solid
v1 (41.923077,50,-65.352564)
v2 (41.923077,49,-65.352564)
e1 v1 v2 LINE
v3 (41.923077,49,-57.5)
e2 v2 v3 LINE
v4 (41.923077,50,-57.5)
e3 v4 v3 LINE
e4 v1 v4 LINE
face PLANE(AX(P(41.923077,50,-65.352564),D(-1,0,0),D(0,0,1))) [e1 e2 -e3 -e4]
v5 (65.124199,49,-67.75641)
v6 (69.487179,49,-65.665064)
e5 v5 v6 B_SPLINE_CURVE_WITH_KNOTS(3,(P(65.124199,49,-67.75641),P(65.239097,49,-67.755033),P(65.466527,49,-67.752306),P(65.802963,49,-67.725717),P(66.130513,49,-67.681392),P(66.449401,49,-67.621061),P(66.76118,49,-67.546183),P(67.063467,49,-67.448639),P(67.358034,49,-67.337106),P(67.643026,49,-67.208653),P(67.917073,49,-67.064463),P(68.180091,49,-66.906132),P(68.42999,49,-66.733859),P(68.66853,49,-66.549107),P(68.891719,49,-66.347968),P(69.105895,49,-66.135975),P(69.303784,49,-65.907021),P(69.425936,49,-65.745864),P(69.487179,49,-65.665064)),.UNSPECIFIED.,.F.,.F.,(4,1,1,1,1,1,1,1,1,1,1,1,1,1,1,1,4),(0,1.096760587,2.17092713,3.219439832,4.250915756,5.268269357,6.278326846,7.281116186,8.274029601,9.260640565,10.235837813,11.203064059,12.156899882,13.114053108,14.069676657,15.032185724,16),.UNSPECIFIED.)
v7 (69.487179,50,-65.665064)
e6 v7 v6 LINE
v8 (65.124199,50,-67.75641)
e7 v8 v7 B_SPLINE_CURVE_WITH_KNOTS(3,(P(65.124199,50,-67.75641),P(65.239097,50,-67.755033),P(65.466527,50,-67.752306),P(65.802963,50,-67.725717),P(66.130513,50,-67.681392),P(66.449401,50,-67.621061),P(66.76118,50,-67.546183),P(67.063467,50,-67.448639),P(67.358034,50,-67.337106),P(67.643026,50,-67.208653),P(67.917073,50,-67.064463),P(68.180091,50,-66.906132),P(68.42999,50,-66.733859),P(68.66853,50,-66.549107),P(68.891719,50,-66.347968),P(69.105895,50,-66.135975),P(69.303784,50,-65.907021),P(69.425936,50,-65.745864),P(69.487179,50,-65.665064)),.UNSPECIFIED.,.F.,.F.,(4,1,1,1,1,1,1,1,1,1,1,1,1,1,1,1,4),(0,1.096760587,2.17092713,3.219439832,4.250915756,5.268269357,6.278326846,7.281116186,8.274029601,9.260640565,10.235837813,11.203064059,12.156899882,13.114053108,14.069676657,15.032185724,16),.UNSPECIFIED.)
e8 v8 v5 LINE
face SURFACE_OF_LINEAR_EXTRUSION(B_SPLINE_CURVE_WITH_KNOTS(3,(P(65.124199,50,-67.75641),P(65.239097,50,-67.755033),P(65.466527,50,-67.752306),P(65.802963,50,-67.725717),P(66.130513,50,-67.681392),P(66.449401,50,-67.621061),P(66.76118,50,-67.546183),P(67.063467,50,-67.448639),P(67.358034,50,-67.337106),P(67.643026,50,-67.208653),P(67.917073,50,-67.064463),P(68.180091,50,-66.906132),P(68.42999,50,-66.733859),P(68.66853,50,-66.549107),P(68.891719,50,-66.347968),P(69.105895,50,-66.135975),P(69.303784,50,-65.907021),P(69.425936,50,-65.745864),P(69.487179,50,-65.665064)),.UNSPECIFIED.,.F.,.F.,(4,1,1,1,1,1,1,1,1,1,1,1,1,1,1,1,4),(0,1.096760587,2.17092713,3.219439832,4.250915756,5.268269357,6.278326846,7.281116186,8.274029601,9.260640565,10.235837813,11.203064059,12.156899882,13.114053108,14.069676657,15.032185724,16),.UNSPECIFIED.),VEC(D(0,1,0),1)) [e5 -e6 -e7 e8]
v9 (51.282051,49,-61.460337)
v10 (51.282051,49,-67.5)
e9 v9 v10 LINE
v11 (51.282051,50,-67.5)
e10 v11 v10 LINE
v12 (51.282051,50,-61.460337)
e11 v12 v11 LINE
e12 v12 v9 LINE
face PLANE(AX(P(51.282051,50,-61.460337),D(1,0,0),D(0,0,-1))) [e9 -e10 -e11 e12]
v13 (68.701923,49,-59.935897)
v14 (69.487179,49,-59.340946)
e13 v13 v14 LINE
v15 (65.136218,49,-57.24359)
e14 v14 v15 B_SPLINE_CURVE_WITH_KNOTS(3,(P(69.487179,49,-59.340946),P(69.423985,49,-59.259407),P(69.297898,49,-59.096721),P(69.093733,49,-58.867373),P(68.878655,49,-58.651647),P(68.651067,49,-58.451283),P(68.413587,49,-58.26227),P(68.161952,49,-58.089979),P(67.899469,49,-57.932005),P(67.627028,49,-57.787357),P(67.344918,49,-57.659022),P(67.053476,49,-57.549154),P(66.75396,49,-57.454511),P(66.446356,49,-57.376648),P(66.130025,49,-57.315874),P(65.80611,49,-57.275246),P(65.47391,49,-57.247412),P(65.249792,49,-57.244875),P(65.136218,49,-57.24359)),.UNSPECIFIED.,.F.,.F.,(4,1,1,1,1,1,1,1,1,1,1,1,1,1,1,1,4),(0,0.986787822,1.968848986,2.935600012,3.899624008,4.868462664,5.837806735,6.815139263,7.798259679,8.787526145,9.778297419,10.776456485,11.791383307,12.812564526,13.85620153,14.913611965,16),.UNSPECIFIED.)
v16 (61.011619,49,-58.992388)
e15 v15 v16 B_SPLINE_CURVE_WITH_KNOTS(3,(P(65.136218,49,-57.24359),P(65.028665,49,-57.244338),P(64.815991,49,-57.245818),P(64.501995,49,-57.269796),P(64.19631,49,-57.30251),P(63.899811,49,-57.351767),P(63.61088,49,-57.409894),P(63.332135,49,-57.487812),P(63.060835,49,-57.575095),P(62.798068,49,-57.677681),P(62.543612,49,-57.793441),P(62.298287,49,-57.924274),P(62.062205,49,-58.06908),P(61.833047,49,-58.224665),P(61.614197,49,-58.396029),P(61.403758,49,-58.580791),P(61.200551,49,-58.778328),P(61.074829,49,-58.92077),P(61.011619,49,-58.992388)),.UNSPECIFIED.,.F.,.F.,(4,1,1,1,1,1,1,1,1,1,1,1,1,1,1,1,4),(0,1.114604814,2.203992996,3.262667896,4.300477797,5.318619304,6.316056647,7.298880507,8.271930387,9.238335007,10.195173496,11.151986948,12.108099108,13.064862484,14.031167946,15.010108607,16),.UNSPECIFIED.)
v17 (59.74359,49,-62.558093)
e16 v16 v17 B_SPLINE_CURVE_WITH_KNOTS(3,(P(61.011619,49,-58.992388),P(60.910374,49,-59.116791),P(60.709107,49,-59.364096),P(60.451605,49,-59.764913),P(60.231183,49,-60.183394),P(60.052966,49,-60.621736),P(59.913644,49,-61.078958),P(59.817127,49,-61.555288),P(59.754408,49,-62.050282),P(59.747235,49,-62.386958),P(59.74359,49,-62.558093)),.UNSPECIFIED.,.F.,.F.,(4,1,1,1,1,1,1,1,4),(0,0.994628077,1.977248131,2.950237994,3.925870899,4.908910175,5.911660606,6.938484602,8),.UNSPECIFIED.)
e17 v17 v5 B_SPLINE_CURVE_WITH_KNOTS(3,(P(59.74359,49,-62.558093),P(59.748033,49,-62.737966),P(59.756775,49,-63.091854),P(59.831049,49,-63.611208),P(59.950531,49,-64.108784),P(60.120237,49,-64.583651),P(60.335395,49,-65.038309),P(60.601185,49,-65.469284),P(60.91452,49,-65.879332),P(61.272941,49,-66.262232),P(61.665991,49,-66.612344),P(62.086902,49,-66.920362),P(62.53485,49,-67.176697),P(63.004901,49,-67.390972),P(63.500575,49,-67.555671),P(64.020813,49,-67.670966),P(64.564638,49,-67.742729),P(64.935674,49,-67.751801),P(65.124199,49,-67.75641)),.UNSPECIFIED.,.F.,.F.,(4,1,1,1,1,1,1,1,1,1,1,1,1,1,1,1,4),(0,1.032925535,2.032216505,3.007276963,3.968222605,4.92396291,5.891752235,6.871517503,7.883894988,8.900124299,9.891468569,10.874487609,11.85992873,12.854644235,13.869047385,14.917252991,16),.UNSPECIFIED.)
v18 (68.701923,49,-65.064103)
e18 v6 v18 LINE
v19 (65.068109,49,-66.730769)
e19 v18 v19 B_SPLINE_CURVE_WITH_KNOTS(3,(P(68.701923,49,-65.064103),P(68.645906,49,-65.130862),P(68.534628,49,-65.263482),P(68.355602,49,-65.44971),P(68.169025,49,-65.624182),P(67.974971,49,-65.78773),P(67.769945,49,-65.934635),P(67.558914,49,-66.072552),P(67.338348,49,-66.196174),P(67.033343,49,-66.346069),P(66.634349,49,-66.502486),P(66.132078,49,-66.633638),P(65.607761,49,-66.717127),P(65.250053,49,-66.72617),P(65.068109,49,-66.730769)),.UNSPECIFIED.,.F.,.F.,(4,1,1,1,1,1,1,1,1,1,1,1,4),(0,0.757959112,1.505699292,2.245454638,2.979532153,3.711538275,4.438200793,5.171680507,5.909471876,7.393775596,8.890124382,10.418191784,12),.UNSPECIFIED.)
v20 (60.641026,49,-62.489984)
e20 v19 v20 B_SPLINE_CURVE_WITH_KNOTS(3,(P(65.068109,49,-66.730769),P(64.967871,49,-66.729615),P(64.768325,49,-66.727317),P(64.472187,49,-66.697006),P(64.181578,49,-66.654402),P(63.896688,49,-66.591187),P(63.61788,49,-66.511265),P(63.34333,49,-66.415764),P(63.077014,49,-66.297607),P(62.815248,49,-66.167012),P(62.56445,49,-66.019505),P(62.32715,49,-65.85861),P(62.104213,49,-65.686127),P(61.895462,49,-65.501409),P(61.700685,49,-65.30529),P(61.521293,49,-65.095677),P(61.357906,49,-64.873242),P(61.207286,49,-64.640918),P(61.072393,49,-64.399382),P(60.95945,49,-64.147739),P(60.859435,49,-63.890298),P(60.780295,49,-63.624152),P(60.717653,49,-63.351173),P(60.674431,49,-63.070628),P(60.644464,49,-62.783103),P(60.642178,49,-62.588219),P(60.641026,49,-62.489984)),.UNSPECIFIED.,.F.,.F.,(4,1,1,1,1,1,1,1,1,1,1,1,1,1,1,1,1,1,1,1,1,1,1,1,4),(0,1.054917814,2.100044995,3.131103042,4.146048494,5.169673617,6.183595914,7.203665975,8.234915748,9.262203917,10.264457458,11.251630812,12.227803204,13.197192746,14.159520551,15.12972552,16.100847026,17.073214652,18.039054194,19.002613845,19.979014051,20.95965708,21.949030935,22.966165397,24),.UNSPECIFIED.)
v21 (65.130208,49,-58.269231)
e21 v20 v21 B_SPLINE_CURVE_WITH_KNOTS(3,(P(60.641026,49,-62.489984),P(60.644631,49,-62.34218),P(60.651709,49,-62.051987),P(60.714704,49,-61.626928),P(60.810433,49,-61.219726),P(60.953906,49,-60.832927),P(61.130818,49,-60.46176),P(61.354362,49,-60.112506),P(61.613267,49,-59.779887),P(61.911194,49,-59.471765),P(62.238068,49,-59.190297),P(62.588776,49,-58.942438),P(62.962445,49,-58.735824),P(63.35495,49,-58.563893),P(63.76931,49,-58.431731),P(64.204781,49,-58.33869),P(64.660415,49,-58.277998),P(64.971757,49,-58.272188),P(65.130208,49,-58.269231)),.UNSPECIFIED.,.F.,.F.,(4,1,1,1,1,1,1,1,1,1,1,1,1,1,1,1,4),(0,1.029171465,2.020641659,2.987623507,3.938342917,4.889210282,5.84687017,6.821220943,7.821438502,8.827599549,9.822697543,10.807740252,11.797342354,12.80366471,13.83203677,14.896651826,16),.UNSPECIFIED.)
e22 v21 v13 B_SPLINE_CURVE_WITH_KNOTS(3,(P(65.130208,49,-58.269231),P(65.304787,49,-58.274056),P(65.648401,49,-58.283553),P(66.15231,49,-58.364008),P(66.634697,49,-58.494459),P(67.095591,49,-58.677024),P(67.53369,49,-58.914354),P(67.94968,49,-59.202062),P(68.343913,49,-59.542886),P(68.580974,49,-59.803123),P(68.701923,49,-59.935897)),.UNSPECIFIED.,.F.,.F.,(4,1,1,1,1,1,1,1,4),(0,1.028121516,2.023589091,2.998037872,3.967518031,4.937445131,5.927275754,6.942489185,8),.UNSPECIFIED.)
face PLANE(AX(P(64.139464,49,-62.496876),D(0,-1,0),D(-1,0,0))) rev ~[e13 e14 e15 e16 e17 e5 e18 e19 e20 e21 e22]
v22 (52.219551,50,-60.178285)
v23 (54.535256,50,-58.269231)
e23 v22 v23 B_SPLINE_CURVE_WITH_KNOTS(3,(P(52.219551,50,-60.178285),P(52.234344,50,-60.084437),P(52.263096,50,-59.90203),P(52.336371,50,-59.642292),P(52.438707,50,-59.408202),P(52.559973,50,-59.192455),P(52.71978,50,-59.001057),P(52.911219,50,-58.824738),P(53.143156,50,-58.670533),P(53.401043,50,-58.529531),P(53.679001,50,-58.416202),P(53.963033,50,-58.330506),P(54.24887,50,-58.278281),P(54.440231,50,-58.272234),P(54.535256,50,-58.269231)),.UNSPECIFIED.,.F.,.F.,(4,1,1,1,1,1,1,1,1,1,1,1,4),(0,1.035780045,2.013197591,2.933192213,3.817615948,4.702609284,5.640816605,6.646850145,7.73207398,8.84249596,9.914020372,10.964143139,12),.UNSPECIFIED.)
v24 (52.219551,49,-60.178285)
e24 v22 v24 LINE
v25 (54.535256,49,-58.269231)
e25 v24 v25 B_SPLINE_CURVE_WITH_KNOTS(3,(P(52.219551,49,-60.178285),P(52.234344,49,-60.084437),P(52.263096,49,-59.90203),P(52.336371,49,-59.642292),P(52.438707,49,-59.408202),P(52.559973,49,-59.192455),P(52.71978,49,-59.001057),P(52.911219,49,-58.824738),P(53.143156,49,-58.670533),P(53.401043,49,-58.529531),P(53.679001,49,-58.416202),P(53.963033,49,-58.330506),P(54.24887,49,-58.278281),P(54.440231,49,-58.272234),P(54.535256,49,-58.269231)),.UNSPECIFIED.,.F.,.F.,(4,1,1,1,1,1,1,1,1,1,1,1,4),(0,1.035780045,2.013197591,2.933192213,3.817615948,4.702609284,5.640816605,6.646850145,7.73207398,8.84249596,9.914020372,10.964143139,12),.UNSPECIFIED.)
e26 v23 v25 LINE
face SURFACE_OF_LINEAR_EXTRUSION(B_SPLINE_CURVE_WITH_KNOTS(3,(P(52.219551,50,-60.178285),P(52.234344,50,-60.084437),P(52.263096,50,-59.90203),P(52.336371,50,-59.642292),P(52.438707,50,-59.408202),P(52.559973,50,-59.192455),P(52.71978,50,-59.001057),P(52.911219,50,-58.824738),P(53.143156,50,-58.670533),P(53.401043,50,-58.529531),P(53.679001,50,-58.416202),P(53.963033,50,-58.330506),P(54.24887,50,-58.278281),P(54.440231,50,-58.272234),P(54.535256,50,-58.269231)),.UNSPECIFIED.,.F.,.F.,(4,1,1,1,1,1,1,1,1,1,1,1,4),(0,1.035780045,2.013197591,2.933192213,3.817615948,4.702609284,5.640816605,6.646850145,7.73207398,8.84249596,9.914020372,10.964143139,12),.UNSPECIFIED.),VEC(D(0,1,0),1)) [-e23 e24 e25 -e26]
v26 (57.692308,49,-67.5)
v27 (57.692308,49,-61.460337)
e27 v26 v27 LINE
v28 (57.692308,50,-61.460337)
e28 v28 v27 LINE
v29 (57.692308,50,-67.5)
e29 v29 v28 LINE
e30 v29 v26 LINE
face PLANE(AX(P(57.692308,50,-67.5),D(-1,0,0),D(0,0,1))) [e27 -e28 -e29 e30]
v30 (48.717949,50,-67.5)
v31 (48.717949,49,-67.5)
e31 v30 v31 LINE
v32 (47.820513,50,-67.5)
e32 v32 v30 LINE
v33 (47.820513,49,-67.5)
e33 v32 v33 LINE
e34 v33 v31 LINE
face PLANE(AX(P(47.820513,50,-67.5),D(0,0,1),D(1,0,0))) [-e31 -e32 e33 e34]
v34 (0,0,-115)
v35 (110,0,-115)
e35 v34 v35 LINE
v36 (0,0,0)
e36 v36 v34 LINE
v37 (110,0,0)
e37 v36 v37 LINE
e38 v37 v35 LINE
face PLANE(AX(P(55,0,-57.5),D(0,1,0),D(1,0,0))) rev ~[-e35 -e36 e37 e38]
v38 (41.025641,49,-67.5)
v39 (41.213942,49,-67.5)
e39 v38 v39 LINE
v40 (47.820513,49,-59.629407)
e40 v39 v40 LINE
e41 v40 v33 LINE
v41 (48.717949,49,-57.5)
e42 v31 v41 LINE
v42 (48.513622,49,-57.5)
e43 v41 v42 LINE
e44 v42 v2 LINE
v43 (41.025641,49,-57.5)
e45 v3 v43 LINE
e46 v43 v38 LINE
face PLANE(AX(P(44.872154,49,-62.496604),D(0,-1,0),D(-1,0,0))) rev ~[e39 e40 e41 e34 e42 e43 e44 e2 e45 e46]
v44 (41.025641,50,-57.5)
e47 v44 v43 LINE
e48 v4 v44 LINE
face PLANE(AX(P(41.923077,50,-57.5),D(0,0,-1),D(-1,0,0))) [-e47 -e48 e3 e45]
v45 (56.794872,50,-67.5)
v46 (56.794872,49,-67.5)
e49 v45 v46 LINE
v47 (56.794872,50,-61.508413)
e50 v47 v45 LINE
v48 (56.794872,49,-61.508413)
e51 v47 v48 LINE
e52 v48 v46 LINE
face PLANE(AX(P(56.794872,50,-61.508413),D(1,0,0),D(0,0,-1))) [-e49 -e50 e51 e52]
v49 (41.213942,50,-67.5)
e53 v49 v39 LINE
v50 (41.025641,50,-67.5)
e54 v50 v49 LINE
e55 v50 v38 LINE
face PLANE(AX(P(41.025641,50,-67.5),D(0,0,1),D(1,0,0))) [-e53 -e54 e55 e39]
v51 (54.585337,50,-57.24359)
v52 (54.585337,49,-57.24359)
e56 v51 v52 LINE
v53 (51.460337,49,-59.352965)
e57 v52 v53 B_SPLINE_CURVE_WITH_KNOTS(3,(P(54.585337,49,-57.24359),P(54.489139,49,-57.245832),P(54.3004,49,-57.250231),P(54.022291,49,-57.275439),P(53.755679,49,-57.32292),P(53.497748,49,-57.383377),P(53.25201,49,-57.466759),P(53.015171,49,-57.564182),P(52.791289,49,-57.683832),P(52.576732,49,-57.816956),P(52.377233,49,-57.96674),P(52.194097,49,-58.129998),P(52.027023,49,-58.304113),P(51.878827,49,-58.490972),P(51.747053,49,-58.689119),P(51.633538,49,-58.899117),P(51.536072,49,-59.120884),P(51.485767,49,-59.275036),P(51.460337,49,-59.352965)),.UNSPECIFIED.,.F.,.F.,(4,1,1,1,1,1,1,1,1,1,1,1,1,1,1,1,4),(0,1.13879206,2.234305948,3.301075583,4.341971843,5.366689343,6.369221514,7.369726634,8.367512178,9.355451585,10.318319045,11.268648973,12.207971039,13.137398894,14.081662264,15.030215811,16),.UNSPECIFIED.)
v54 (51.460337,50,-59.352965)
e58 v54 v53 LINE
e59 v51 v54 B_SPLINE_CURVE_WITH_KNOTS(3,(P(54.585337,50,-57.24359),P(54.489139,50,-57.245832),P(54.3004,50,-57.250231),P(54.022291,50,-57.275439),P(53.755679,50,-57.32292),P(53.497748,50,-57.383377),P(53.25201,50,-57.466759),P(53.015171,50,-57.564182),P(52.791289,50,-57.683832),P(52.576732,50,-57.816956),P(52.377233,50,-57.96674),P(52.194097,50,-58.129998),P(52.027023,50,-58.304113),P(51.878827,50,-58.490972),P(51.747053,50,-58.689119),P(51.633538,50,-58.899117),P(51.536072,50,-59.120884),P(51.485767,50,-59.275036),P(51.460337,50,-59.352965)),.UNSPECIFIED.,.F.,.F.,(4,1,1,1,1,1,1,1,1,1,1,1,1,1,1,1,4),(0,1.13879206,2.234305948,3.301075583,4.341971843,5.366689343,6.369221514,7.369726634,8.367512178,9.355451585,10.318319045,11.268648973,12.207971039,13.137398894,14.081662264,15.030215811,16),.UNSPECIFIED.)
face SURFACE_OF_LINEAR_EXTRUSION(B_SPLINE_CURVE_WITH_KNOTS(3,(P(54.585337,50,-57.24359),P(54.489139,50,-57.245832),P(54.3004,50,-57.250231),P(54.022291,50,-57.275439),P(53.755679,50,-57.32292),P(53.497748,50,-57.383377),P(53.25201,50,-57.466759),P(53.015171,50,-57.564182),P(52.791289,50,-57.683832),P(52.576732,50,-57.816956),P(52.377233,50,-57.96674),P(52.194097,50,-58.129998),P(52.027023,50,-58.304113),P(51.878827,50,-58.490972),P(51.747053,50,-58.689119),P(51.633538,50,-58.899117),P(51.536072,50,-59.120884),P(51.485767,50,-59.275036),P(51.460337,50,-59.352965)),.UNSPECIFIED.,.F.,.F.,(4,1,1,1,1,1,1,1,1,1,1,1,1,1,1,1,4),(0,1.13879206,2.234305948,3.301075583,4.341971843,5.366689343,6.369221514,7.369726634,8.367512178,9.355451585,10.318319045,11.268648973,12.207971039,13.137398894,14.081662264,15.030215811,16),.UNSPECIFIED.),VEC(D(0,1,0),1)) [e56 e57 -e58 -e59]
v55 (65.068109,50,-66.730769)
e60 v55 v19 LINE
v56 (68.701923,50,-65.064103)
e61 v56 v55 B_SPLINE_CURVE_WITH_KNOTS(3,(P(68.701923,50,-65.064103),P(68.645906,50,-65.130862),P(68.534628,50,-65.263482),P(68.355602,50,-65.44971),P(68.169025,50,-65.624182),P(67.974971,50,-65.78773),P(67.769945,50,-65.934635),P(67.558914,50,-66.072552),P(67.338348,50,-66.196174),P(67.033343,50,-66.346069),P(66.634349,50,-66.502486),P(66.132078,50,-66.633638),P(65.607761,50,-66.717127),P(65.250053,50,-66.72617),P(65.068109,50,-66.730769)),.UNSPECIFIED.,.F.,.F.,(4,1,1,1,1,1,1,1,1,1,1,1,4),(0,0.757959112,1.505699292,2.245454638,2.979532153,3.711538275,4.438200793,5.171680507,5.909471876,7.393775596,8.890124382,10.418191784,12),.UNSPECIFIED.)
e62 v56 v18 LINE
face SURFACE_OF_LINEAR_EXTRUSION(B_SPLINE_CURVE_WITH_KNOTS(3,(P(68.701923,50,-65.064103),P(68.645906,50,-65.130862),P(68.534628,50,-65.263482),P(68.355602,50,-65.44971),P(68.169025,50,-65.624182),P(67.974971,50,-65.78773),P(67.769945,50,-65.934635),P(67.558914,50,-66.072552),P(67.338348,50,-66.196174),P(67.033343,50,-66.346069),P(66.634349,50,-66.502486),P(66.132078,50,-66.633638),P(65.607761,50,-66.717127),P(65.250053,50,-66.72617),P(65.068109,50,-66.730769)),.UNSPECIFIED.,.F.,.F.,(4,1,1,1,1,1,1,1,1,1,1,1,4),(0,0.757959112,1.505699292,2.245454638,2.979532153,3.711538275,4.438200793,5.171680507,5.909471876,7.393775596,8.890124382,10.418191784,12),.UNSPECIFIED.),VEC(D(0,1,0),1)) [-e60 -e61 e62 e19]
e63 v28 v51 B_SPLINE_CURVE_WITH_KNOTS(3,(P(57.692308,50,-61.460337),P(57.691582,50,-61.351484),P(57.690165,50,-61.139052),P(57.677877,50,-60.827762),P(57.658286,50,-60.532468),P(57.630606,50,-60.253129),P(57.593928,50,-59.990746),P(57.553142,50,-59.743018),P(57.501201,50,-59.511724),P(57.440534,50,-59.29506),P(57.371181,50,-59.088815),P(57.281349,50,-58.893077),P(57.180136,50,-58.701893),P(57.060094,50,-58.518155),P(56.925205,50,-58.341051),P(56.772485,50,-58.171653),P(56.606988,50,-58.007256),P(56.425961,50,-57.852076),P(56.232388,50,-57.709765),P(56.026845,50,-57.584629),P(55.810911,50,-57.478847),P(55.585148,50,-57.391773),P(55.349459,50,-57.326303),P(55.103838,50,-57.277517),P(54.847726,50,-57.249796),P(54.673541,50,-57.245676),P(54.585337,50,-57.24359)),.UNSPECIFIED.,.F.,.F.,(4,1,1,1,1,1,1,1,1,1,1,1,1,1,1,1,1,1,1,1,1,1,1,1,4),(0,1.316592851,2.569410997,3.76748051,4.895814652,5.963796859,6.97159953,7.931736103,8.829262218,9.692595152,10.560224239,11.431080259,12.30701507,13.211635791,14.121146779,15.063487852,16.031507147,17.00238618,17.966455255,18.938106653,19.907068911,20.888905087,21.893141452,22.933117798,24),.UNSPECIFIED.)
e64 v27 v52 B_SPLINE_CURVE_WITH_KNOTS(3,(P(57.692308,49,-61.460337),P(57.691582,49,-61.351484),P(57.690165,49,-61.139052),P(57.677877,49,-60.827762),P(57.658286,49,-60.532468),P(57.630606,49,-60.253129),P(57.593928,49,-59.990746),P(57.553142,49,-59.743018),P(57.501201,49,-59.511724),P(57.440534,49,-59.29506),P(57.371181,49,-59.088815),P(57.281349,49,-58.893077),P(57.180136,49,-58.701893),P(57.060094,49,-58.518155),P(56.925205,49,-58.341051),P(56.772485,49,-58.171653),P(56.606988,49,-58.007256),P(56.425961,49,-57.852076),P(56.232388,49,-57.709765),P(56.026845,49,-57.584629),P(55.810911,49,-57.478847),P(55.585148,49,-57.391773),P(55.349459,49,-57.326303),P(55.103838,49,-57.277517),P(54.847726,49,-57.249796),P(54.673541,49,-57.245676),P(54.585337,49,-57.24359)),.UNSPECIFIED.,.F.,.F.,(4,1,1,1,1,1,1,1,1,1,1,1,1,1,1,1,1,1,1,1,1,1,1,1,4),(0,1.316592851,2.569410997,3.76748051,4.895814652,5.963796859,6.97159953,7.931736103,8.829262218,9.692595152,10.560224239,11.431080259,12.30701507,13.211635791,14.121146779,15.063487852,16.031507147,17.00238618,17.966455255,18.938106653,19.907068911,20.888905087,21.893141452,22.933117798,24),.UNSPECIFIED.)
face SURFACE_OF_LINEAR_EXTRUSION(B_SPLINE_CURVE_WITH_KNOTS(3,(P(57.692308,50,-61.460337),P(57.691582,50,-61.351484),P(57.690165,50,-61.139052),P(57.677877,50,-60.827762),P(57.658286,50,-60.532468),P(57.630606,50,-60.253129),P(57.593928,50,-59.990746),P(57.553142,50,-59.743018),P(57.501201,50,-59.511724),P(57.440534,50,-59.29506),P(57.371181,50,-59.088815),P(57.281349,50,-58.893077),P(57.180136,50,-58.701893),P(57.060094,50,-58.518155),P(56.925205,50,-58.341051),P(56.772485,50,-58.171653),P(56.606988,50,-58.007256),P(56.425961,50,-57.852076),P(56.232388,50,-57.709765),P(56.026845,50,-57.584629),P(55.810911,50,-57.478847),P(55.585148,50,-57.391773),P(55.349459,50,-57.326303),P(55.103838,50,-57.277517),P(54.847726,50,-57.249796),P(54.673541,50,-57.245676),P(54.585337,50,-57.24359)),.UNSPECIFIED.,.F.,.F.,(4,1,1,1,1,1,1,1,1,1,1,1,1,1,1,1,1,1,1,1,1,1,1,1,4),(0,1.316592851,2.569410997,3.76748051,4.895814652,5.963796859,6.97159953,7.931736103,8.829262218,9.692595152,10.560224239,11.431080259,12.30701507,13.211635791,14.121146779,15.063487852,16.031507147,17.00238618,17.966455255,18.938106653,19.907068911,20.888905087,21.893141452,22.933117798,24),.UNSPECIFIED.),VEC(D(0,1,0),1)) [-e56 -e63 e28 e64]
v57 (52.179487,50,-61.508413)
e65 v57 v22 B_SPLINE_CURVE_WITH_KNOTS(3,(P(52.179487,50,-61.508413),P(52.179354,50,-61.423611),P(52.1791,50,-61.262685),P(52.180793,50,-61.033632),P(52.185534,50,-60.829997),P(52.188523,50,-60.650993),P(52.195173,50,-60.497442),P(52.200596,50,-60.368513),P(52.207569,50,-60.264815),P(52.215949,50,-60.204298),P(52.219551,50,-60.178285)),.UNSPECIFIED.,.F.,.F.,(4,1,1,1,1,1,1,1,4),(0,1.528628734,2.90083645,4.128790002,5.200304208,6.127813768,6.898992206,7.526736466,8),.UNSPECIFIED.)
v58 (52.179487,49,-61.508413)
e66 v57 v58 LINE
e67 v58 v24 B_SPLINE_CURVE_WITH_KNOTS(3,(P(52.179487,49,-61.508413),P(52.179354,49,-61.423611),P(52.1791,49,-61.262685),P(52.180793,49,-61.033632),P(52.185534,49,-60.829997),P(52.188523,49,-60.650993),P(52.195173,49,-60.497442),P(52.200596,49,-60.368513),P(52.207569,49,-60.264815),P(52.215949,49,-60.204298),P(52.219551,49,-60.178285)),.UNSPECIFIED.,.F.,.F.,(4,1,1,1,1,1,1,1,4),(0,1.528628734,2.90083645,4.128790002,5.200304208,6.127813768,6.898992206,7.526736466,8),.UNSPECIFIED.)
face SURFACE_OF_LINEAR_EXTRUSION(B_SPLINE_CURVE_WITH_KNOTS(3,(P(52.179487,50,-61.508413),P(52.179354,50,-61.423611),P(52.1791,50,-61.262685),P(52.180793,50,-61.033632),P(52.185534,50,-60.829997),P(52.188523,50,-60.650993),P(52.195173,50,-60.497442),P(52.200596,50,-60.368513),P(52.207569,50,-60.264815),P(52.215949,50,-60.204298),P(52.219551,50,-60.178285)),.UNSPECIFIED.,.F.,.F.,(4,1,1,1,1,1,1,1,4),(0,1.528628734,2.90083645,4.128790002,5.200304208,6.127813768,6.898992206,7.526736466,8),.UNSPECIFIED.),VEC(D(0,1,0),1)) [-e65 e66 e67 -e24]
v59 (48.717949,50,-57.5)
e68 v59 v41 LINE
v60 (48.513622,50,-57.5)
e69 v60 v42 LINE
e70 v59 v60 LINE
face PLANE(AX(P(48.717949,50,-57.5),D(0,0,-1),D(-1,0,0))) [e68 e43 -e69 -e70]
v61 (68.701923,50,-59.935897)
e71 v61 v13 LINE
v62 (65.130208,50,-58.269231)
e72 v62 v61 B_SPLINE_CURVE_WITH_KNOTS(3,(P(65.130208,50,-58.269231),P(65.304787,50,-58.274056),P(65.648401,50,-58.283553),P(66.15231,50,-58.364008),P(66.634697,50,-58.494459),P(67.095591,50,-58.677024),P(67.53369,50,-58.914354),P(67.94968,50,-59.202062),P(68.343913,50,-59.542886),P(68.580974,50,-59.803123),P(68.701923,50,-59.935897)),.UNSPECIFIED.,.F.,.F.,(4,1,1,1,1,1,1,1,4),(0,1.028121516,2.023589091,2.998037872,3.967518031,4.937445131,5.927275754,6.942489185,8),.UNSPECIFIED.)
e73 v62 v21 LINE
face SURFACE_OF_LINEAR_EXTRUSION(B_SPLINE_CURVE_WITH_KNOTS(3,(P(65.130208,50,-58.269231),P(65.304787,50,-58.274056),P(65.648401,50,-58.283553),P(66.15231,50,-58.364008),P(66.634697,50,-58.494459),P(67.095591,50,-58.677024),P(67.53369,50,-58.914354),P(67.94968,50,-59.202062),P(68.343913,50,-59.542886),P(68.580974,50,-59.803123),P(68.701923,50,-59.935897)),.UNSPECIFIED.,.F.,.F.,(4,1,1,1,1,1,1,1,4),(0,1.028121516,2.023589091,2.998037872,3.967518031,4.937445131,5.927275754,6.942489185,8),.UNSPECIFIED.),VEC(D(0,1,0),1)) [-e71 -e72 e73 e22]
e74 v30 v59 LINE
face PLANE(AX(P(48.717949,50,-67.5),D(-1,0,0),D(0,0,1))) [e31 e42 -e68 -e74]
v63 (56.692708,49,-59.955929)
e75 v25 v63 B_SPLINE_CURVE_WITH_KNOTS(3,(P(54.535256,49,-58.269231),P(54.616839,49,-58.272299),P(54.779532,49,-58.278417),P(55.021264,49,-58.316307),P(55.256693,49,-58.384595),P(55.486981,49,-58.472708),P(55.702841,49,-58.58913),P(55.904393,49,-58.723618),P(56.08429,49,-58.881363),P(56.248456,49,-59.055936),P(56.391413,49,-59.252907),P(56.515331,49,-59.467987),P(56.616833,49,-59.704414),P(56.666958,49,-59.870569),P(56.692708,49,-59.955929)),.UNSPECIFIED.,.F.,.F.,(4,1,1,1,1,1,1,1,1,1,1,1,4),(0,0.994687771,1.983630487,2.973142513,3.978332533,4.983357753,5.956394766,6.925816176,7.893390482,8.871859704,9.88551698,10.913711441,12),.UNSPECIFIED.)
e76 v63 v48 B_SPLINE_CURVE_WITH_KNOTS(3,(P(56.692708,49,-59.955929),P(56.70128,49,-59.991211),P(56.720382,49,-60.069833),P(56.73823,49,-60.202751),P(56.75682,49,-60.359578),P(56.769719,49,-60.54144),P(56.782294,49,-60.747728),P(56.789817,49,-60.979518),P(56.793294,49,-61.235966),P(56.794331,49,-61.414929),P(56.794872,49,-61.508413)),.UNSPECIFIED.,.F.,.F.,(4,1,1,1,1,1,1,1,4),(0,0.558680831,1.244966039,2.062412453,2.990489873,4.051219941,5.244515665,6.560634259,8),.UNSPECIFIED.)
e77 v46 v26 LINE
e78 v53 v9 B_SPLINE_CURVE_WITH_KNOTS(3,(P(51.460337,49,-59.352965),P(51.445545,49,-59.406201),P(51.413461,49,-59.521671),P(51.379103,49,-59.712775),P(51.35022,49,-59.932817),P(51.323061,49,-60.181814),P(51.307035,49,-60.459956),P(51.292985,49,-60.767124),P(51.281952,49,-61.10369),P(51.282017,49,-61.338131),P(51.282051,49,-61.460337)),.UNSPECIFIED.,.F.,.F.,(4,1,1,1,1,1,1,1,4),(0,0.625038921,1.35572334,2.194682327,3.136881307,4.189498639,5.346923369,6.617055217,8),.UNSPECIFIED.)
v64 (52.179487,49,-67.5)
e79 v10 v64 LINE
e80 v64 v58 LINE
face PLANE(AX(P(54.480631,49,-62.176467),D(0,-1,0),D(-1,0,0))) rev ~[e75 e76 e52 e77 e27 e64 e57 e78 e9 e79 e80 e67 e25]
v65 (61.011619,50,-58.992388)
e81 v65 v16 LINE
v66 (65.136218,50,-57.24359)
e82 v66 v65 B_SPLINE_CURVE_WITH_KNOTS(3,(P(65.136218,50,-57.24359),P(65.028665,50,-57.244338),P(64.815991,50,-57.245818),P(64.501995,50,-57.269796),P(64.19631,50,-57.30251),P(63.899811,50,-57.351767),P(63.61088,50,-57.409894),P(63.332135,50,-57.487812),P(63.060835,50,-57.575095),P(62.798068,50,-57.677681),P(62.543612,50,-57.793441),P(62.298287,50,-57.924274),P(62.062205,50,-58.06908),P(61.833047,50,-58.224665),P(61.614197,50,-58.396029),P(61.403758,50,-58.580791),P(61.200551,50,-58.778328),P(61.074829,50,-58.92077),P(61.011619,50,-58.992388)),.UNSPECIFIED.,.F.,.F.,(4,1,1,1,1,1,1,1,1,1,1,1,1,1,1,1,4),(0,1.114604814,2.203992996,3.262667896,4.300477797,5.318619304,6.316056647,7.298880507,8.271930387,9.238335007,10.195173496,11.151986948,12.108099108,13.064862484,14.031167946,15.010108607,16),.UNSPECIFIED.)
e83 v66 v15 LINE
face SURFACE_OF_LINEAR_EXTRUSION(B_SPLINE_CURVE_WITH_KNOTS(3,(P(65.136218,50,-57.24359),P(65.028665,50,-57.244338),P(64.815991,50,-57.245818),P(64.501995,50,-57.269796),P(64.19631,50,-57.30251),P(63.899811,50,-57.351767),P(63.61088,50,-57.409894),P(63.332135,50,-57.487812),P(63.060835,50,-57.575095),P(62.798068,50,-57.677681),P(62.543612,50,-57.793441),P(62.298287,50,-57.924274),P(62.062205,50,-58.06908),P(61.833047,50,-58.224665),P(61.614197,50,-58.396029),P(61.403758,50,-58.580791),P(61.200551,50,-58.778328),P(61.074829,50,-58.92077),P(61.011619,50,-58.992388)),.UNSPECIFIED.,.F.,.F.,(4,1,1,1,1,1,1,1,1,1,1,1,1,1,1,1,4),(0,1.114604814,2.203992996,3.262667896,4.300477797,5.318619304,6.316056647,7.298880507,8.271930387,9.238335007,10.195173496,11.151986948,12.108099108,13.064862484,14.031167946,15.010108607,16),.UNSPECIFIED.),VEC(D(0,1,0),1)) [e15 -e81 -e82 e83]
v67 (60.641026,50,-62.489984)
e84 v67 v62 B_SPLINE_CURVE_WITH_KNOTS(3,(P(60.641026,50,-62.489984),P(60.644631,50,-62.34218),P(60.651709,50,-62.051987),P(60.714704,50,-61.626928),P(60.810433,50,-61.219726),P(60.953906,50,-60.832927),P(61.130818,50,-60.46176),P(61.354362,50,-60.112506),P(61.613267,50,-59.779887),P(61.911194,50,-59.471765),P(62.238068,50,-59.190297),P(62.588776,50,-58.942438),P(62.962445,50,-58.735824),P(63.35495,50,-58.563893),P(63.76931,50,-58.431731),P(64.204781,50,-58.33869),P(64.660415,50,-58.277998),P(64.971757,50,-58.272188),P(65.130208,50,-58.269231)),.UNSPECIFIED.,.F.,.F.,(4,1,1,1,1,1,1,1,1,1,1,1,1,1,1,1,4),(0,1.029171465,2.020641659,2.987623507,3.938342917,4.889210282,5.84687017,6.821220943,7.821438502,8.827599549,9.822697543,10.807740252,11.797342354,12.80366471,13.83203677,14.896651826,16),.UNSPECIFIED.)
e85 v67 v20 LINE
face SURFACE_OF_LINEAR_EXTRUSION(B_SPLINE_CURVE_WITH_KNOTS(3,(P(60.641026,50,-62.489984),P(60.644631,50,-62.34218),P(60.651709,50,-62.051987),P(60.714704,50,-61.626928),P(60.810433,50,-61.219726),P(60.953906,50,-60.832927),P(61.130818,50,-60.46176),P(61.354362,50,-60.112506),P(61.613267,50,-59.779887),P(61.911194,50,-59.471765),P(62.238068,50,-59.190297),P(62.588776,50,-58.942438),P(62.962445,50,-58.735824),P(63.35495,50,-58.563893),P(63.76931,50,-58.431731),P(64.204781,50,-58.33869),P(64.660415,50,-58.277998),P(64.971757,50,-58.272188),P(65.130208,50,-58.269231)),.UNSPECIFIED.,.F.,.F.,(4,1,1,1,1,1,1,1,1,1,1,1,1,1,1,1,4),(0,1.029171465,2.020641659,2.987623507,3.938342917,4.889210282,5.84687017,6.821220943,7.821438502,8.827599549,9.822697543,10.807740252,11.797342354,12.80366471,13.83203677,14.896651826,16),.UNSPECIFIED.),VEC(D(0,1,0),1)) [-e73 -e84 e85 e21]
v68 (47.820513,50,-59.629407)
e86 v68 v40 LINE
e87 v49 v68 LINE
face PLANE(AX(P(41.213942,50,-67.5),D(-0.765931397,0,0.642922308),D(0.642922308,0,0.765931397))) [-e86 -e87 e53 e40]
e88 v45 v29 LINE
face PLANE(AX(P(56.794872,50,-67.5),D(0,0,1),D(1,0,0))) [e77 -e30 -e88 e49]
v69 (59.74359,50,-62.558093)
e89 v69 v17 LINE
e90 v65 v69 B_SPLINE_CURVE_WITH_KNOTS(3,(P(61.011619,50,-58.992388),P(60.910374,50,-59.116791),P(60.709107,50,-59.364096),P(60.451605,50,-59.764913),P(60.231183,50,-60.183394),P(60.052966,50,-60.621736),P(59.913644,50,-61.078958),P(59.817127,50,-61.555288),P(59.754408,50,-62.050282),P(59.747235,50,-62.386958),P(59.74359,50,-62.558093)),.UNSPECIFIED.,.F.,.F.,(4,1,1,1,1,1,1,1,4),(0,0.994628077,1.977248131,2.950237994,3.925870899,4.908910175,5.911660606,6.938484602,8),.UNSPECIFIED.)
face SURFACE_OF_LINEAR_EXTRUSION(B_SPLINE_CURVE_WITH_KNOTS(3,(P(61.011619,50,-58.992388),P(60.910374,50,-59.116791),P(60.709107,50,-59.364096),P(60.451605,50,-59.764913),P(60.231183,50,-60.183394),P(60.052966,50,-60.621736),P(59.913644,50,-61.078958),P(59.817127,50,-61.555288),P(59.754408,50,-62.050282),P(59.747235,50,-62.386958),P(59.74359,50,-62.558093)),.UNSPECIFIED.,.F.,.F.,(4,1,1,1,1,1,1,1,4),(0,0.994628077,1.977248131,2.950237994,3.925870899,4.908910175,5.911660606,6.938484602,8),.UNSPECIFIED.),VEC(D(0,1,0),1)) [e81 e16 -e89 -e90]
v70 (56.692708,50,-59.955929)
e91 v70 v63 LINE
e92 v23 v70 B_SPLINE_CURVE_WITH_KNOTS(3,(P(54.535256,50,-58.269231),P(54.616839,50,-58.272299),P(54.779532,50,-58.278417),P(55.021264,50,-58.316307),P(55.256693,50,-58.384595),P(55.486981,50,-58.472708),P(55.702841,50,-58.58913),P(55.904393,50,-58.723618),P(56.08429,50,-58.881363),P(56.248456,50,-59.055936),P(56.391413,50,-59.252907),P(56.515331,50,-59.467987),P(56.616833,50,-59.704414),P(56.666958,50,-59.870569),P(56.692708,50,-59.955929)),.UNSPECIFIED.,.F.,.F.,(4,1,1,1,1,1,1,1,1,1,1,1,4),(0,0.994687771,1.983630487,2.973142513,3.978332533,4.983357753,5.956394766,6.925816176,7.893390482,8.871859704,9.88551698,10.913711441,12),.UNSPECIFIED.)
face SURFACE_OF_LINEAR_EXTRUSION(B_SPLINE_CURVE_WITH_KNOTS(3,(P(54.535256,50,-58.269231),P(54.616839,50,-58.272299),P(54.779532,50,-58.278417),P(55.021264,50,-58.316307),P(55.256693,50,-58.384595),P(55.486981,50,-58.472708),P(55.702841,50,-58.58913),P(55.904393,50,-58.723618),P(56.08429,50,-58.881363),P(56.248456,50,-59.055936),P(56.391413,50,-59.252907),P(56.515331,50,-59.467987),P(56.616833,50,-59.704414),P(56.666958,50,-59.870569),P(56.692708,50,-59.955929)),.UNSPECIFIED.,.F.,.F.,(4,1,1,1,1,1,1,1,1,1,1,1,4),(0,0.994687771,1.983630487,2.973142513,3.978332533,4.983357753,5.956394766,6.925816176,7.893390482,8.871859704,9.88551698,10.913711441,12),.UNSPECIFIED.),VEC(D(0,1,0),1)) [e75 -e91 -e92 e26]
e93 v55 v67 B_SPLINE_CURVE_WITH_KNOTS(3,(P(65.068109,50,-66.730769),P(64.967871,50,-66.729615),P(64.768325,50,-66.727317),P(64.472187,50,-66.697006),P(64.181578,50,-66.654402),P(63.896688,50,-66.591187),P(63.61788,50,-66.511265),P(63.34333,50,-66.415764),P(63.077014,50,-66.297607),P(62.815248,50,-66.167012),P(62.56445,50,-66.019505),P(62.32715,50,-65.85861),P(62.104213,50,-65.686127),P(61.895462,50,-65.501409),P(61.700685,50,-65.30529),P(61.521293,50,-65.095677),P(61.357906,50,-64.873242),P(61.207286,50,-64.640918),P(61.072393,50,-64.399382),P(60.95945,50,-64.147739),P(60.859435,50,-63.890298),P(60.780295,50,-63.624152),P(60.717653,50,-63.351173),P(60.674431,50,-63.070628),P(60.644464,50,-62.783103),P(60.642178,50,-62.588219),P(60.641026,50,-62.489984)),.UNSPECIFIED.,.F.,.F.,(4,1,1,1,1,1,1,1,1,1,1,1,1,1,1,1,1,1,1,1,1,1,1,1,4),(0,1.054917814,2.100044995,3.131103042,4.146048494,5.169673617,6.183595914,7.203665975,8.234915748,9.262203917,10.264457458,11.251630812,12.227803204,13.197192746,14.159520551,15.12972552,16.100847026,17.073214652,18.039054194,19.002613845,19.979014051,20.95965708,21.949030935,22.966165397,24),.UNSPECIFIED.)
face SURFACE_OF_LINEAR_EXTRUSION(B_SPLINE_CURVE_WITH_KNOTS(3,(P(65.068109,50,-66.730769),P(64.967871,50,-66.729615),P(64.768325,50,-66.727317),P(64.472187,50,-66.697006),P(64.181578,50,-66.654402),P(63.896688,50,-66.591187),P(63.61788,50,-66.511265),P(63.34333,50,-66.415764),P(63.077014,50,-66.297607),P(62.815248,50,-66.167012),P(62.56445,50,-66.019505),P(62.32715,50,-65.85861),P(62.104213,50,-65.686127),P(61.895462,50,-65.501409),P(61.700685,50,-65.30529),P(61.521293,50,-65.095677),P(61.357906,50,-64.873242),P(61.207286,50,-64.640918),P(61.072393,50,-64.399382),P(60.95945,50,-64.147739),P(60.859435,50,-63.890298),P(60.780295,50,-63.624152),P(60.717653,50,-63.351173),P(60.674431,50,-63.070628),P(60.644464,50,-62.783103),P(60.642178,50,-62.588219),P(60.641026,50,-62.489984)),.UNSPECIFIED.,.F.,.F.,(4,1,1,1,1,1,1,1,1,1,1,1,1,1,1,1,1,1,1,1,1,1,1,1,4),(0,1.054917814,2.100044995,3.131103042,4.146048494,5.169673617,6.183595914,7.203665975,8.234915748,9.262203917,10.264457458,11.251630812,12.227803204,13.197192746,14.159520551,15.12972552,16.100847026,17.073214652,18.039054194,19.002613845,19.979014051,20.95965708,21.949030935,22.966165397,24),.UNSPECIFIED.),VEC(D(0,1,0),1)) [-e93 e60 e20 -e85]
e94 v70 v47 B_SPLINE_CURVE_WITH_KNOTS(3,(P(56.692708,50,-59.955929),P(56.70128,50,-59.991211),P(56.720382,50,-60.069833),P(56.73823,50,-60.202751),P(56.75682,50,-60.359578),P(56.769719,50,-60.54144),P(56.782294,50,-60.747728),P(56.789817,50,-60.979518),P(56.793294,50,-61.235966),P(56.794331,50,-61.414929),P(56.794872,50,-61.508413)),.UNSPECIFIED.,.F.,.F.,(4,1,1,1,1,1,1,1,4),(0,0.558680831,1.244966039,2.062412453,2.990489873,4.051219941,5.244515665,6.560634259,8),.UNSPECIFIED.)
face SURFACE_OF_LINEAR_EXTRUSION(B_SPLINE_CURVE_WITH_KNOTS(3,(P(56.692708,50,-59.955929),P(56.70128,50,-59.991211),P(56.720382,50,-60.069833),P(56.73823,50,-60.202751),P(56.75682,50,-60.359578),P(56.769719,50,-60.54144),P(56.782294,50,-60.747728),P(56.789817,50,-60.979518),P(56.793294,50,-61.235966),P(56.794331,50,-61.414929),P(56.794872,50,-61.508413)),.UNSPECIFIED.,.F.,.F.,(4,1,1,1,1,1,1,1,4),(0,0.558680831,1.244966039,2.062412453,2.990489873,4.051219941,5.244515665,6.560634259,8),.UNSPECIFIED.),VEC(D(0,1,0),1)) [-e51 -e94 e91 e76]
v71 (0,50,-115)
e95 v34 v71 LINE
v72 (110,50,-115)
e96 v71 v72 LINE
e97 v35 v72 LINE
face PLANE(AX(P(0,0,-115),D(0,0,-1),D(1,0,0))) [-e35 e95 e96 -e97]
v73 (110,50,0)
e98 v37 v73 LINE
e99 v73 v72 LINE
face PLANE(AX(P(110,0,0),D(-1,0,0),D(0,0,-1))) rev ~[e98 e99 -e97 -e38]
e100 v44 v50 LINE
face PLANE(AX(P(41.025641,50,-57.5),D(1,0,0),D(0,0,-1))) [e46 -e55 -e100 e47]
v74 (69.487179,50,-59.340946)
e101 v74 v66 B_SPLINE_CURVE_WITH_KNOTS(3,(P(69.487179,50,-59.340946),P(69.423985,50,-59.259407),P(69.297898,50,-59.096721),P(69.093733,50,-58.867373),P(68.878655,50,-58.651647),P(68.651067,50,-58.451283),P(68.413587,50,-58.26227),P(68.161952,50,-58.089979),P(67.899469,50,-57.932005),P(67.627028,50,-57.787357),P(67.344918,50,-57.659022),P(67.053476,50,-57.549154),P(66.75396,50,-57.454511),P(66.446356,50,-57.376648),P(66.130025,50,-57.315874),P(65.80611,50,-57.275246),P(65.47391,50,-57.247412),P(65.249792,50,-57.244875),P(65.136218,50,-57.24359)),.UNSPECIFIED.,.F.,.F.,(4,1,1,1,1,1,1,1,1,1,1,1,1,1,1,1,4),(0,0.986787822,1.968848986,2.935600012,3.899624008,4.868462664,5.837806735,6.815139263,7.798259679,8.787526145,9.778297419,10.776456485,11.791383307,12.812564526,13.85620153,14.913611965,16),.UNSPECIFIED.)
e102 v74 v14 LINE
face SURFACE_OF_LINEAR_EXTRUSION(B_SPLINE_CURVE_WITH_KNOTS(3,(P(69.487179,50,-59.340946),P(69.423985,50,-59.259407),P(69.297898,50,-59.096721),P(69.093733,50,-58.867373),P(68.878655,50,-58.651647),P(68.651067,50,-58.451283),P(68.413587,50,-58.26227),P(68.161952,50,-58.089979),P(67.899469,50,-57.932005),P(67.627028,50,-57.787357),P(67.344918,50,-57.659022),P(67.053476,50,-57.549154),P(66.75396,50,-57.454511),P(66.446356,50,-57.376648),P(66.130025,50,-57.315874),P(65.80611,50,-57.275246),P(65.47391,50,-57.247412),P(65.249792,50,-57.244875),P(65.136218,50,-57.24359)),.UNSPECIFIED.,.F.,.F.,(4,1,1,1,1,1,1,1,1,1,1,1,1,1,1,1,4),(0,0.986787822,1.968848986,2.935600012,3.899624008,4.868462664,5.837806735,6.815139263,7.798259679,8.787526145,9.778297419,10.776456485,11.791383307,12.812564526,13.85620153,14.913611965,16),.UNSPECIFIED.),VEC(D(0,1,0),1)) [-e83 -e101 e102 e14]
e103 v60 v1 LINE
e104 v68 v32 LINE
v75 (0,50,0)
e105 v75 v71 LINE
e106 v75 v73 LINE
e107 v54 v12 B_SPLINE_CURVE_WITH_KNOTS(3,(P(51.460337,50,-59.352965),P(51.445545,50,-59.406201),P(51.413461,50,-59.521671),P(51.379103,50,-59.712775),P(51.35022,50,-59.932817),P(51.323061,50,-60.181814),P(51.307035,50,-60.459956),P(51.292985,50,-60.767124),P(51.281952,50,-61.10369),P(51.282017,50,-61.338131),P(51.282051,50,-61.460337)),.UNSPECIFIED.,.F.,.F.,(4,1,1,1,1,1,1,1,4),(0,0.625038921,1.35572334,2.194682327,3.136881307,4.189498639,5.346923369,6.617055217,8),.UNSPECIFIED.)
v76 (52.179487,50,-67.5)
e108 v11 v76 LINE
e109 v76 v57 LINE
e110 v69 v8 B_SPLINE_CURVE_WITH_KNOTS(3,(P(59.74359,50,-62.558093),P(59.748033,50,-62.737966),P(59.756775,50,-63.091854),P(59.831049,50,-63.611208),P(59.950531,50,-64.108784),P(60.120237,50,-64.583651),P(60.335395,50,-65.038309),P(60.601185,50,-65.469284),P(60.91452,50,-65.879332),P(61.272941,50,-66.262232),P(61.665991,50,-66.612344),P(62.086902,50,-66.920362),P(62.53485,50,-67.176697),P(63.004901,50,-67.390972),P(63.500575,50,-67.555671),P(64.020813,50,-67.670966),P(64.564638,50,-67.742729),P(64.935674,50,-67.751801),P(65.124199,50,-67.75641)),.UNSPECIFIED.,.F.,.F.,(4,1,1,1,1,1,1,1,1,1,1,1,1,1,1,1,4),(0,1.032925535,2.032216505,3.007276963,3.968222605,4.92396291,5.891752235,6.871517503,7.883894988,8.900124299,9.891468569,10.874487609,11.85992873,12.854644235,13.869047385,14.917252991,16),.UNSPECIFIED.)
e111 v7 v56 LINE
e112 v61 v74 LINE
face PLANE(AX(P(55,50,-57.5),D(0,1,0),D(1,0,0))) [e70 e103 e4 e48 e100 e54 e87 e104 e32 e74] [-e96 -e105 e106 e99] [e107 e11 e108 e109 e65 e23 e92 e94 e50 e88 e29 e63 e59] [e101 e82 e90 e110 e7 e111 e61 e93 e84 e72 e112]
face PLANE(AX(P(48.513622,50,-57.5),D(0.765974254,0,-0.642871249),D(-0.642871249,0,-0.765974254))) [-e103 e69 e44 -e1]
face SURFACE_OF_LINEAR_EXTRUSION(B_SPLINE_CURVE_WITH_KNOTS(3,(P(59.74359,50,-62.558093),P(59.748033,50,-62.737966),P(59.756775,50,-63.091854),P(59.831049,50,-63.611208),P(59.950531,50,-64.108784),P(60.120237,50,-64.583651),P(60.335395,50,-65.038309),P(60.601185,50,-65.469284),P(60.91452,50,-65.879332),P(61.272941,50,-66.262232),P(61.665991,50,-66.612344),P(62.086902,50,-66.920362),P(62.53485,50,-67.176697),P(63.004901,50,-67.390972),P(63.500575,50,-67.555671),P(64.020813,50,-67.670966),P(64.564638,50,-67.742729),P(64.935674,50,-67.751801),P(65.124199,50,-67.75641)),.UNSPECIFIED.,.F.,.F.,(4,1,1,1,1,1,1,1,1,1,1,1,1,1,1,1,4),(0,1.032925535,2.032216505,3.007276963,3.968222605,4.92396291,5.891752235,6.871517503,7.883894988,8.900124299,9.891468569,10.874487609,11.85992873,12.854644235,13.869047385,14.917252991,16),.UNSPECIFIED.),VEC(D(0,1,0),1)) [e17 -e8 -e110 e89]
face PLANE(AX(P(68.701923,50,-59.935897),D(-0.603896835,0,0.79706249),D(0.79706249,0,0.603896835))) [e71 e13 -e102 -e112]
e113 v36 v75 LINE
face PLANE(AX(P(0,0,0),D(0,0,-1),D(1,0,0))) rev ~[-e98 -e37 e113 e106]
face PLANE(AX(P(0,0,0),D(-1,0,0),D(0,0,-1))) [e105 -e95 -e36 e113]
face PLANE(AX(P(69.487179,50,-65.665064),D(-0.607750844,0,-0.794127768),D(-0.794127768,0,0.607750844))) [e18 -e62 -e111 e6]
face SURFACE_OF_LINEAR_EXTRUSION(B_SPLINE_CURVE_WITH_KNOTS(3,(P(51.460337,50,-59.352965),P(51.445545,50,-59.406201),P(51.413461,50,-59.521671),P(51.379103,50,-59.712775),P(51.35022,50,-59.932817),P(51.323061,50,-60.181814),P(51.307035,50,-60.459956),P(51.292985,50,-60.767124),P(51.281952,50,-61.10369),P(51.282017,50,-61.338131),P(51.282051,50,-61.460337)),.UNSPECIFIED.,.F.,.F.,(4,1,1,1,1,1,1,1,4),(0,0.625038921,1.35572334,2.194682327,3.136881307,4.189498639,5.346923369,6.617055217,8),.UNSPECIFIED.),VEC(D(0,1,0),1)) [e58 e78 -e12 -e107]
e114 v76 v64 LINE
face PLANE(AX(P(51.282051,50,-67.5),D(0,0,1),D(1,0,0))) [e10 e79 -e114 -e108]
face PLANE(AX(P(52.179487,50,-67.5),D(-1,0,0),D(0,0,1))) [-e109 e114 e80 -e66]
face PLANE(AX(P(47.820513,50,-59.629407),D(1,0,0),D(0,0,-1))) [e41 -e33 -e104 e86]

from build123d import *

# Parameters (mm, degrees)
SKETCH1_W           = 110
SKETCH1_H           = 115
BOSS_EXTRUDE1_DEPTH = 50
CUT_EXTRUDE1_DEPTH  = 1


with BuildPart() as part:
    # Sketch1 → Boss-Extrude1 (new body)
    with BuildSketch(Plane(origin=(0, 0, 0), x_dir=(1, 0, 0), z_dir=(0, 1, 0))):
        with Locations((55, 57.5)):
            Rectangle(SKETCH1_W, SKETCH1_H)
    extrude(amount=BOSS_EXTRUDE1_DEPTH)

    # Sketch2 → Cut-Extrude1 (cut)
    with BuildSketch(Plane(origin=(0, 50, 0), x_dir=(1, 0, 0), z_dir=(0, 1, 0))):
        Polygon((41.025641026, 57.5), (41.025641026, 67.5), (41.213942308, 67.5), (47.820512821, 59.629407051), (47.820512821, 67.5), (48.717948718, 67.5), (48.717948718, 57.5), (48.513621795, 57.5), (41.923076923, 65.352564103), (41.923076923, 57.5), align=None)
        with BuildLine():
            Line((51.282051282, 67.5), (52.179487179, 67.5))
            Line((52.179487179, 67.5), (52.179487179, 61.508413462))
            add(Edge.make_bspline(
                [(52.179487179, 61.508413462), (52.179353625, 61.423611359), (52.179100183, 61.262684757), (52.18079308, 61.033632469), (52.185534133, 60.829996872), (52.18852316, 60.650993022), (52.195172684, 60.497442315), (52.200595675, 60.368512856), (52.207568695, 60.264815135), (52.21594903, 60.204298203), (52.219551282, 60.178285256)],
                knots=[0, 0, 0, 0, 1.528628734, 2.90083645, 4.128790002, 5.200304208, 6.127813768, 6.898992206, 7.526736466, 8, 8, 8, 8], degree=3))
            add(Edge.make_bspline(
                [(52.219551282, 60.178285256), (52.234344021, 60.084437361), (52.263095982, 59.902029564), (52.336371348, 59.642291615), (52.438707065, 59.408201735), (52.559972901, 59.192455189), (52.719780362, 59.001057017), (52.911219034, 58.824738009), (53.143155516, 58.670532853), (53.401042961, 58.529530533), (53.679000782, 58.416201727), (53.963032972, 58.3305064), (54.248870055, 58.278280972), (54.440230527, 58.272233718), (54.53525641, 58.269230769)],
                knots=[0, 0, 0, 0, 1.035780045, 2.013197591, 2.933192213, 3.817615948, 4.702609284, 5.640816605, 6.646850145, 7.73207398, 8.84249596, 9.914020372, 10.964143139, 12, 12, 12, 12], degree=3))
            add(Edge.make_bspline(
                [(54.53525641, 58.269230769), (54.616838526, 58.272298913), (54.77953156, 58.278417479), (55.021264219, 58.316307282), (55.256693101, 58.384594613), (55.486980758, 58.472708208), (55.702840713, 58.589129897), (55.904393404, 58.72361801), (56.084290359, 58.88136337), (56.248456067, 59.055935783), (56.391413027, 59.25290664), (56.515330574, 59.467987034), (56.616833231, 59.70441374), (56.666957587, 59.870569232), (56.692708333, 59.955929487)],
                knots=[0, 0, 0, 0, 0.994687771, 1.983630487, 2.973142513, 3.978332533, 4.983357753, 5.956394766, 6.925816176, 7.893390482, 8.871859704, 9.88551698, 10.913711441, 12, 12, 12, 12], degree=3))
            add(Edge.make_bspline(
                [(56.692708333, 59.955929487), (56.70128012, 59.991211128), (56.720381515, 60.069832843), (56.738230215, 60.202750816), (56.756820287, 60.35957757), (56.769719059, 60.541439892), (56.782293974, 60.747728385), (56.789817039, 60.979517692), (56.793294276, 61.235966152), (56.794330506, 61.414929471), (56.794871795, 61.508413462)],
                knots=[0, 0, 0, 0, 0.558680831, 1.244966039, 2.062412453, 2.990489873, 4.051219941, 5.244515665, 6.560634259, 8, 8, 8, 8], degree=3))
            Line((56.794871795, 61.508413462), (56.794871795, 67.5))
            Line((56.794871795, 67.5), (57.692307692, 67.5))
            Line((57.692307692, 67.5), (57.692307692, 61.460336538))
            add(Edge.make_bspline(
                [(57.692307692, 61.460336538), (57.691581634, 61.351484027), (57.690164687, 61.139051733), (57.677877326, 60.827762136), (57.658285898, 60.532467904), (57.630605646, 60.253129342), (57.593928494, 59.99074603), (57.55314215, 59.743018121), (57.501200627, 59.511723856), (57.440533767, 59.295059806), (57.371180772, 59.088815482), (57.28134892, 58.893076583), (57.180136063, 58.701892584), (57.060094197, 58.51815513), (56.925204533, 58.341050692), (56.772485445, 58.171653335), (56.606987842, 58.00725606), (56.425960529, 57.852075871), (56.2323876, 57.709765366), (56.026844864, 57.584628877), (55.810911236, 57.478847113), (55.585148018, 57.391773043), (55.349458867, 57.32630276), (55.103837839, 57.2775166), (54.847725859, 57.24979575), (54.673541127, 57.24567595), (54.585336538, 57.243589744)],
                knots=[0, 0, 0, 0, 1.316592851, 2.569410997, 3.76748051, 4.895814652, 5.963796859, 6.97159953, 7.931736103, 8.829262218, 9.692595152, 10.560224239, 11.431080259, 12.30701507, 13.211635791, 14.121146779, 15.063487852, 16.031507147, 17.00238618, 17.966455255, 18.938106653, 19.907068911, 20.888905087, 21.893141452, 22.933117798, 24, 24, 24, 24], degree=3))
            add(Edge.make_bspline(
                [(54.585336538, 57.243589744), (54.489139102, 57.24583193), (54.300400077, 57.250231092), (54.022291313, 57.275438949), (53.755679324, 57.322920076), (53.497748247, 57.383377058), (53.252009684, 57.466759165), (53.015171271, 57.564182378), (52.791289325, 57.683831694), (52.576731815, 57.816955674), (52.377232511, 57.966740354), (52.194097074, 58.129997994), (52.027023158, 58.304113358), (51.878826883, 58.490971546), (51.747052927, 58.68911928), (51.633538031, 58.899117108), (51.536071619, 59.120883726), (51.485767142, 59.275035727), (51.460336538, 59.352964744)],
                knots=[0, 0, 0, 0, 1.13879206, 2.234305948, 3.301075583, 4.341971843, 5.366689343, 6.369221514, 7.369726634, 8.367512178, 9.355451585, 10.318319045, 11.268648973, 12.207971039, 13.137398894, 14.081662264, 15.030215811, 16, 16, 16, 16], degree=3))
            add(Edge.make_bspline(
                [(51.460336538, 59.352964744), (51.445544658, 59.406200671), (51.41346074, 59.521670582), (51.379102746, 59.712774835), (51.350219656, 59.932817457), (51.323060918, 60.181813509), (51.307035324, 60.459955985), (51.292985499, 60.767124316), (51.281952303, 61.103689921), (51.282017367, 61.338131394), (51.282051282, 61.460336538)],
                knots=[0, 0, 0, 0, 0.625038921, 1.35572334, 2.194682327, 3.136881307, 4.189498639, 5.346923369, 6.617055217, 8, 8, 8, 8], degree=3))
            Line((51.282051282, 61.460336538), (51.282051282, 67.5))
        make_face()
        with BuildLine():
            Line((69.487179487, 65.665064103), (68.701923077, 65.064102564))
            add(Edge.make_bspline(
                [(68.701923077, 65.064102564), (68.645906253, 65.130862478), (68.534627834, 65.263482237), (68.355601541, 65.449709507), (68.169025418, 65.624181683), (67.974970786, 65.78772991), (67.76994473, 65.934634955), (67.558913877, 66.072552392), (67.338348034, 66.1961745), (67.033343077, 66.346068746), (66.634349225, 66.502486332), (66.132078256, 66.633638422), (65.607760832, 66.717127495), (65.250053405, 66.726169899), (65.068108974, 66.730769231)],
                knots=[0, 0, 0, 0, 0.757959112, 1.505699292, 2.245454638, 2.979532153, 3.711538275, 4.438200793, 5.171680507, 5.909471876, 7.393775596, 8.890124382, 10.418191784, 12, 12, 12, 12], degree=3))
            add(Edge.make_bspline(
                [(65.068108974, 66.730769231), (64.967870976, 66.729615052), (64.768325283, 66.727317407), (64.472186787, 66.697005621), (64.18157807, 66.654402163), (63.896688166, 66.591186954), (63.617879713, 66.511265185), (63.343329993, 66.415764003), (63.077013994, 66.297607317), (62.815247599, 66.167012289), (62.564449853, 66.019505304), (62.327149717, 65.858610013), (62.104212666, 65.68612688), (61.895462345, 65.501409433), (61.70068535, 65.305289546), (61.521293033, 65.095677142), (61.357906147, 64.87324236), (61.207286075, 64.640918339), (61.072392551, 64.399381791), (60.959450039, 64.147738733), (60.859435404, 63.890298438), (60.780294711, 63.624152265), (60.717653234, 63.351172934), (60.674431339, 63.070627825), (60.644464278, 62.783103026), (60.642178059, 62.588219276), (60.641025641, 62.489983974)],
                knots=[0, 0, 0, 0, 1.054917814, 2.100044995, 3.131103042, 4.146048494, 5.169673617, 6.183595914, 7.203665975, 8.234915748, 9.262203917, 10.264457458, 11.251630812, 12.227803204, 13.197192746, 14.159520551, 15.12972552, 16.100847026, 17.073214652, 18.039054194, 19.002613845, 19.979014051, 20.95965708, 21.949030935, 22.966165397, 24, 24, 24, 24], degree=3))
            add(Edge.make_bspline(
                [(60.641025641, 62.489983974), (60.644630838, 62.342180203), (60.651709165, 62.051987104), (60.714704405, 61.626928216), (60.810433237, 61.219726291), (60.953906314, 60.832926742), (61.130817887, 60.461760004), (61.354362492, 60.112506138), (61.613266884, 59.779887382), (61.911193797, 59.471764674), (62.238067557, 59.190296887), (62.588775876, 58.942438083), (62.962445269, 58.735824133), (63.354949927, 58.563892857), (63.769310252, 58.431730778), (64.204781116, 58.338690426), (64.660415389, 58.277998481), (64.971756531, 58.272187944), (65.130208333, 58.269230769)],
                knots=[0, 0, 0, 0, 1.029171465, 2.020641659, 2.987623507, 3.938342917, 4.889210282, 5.84687017, 6.821220943, 7.821438502, 8.827599549, 9.822697543, 10.807740252, 11.797342354, 12.80366471, 13.83203677, 14.896651826, 16, 16, 16, 16], degree=3))
            add(Edge.make_bspline(
                [(65.130208333, 58.269230769), (65.304787445, 58.274055854), (65.648400899, 58.283552776), (66.152309545, 58.364007773), (66.634697447, 58.494458967), (67.095590552, 58.677024459), (67.533689541, 58.914353853), (67.949679999, 59.202062075), (68.343913057, 59.542885882), (68.580973864, 59.803123392), (68.701923077, 59.935897436)],
                knots=[0, 0, 0, 0, 1.028121516, 2.023589091, 2.998037872, 3.967518031, 4.937445131, 5.927275754, 6.942489185, 8, 8, 8, 8], degree=3))
            Line((68.701923077, 59.935897436), (69.487179487, 59.340945513))
            add(Edge.make_bspline(
                [(69.487179487, 59.340945513), (69.423984888, 59.259407079), (69.297898387, 59.096720775), (69.093732624, 58.867373033), (68.878654631, 58.651647217), (68.651066889, 58.451282585), (68.413587484, 58.262269826), (68.161952306, 58.08997888), (67.899469356, 57.932004925), (67.627027988, 57.787356569), (67.344917665, 57.659021578), (67.053476423, 57.54915367), (66.753960493, 57.454511128), (66.446356183, 57.376648452), (66.130025449, 57.315873926), (65.806109809, 57.275246284), (65.473910165, 57.247412243), (65.249791819, 57.24487534), (65.136217949, 57.243589744)],
                knots=[0, 0, 0, 0, 0.986787822, 1.968848986, 2.935600012, 3.899624008, 4.868462664, 5.837806735, 6.815139263, 7.798259679, 8.787526145, 9.778297419, 10.776456485, 11.791383307, 12.812564526, 13.85620153, 14.913611965, 16, 16, 16, 16], degree=3))
            add(Edge.make_bspline(
                [(65.136217949, 57.243589744), (65.028664614, 57.244338294), (64.815991214, 57.245818459), (64.501994781, 57.26979608), (64.196310264, 57.302509614), (63.899811333, 57.351767132), (63.610879976, 57.409893817), (63.332135449, 57.487811693), (63.060834848, 57.575095027), (62.79806816, 57.677680703), (62.543611875, 57.793441225), (62.2982867, 57.92427425), (62.062205464, 58.069079578), (61.833047119, 58.224665322), (61.61419688, 58.396029041), (61.403758236, 58.580790854), (61.200551161, 58.778328028), (61.074829204, 58.920770466), (61.01161859, 58.992387821)],
                knots=[0, 0, 0, 0, 1.114604814, 2.203992996, 3.262667896, 4.300477797, 5.318619304, 6.316056647, 7.298880507, 8.271930387, 9.238335007, 10.195173496, 11.151986948, 12.108099108, 13.064862484, 14.031167946, 15.010108607, 16, 16, 16, 16], degree=3))
            add(Edge.make_bspline(
                [(61.01161859, 58.992387821), (60.910373894, 59.116791217), (60.709106817, 59.364096104), (60.451604864, 59.764913194), (60.231183278, 60.18339379), (60.052966362, 60.621736444), (59.913644267, 61.07895755), (59.817126567, 61.555287592), (59.754407697, 62.050281712), (59.747235443, 62.386958251), (59.743589744, 62.558092949)],
                knots=[0, 0, 0, 0, 0.994628077, 1.977248131, 2.950237994, 3.925870899, 4.908910175, 5.911660606, 6.938484602, 8, 8, 8, 8], degree=3))
            add(Edge.make_bspline(
                [(59.743589744, 62.558092949), (59.748033154, 62.737965673), (59.756775286, 63.091854029), (59.831048987, 63.611208181), (59.950531262, 64.108783607), (60.120236658, 64.583651448), (60.335394805, 65.038309392), (60.60118513, 65.469284263), (60.914519822, 65.879332262), (61.272941444, 66.262231551), (61.665990973, 66.612343987), (62.08690187, 66.920361712), (62.53485029, 67.176697472), (63.004901295, 67.390972222), (63.500574671, 67.555670688), (64.020812868, 67.670965507), (64.564638339, 67.742728697), (64.935673841, 67.751800719), (65.124198718, 67.756410256)],
                knots=[0, 0, 0, 0, 1.032925535, 2.032216505, 3.007276963, 3.968222605, 4.92396291, 5.891752235, 6.871517503, 7.883894988, 8.900124299, 9.891468569, 10.874487609, 11.85992873, 12.854644235, 13.869047385, 14.917252991, 16, 16, 16, 16], degree=3))
            add(Edge.make_bspline(
                [(65.124198718, 67.756410256), (65.239097209, 67.755032719), (65.466527201, 67.752306022), (65.802963351, 67.725717044), (66.130512857, 67.681392455), (66.449401377, 67.621060827), (66.76118028, 67.546182766), (67.063466683, 67.448639056), (67.35803436, 67.337106109), (67.643025526, 67.20865335), (67.917072812, 67.06446266), (68.180090865, 66.906132307), (68.429990461, 66.733858577), (68.668530028, 66.549106647), (68.891719203, 66.347967906), (69.105894856, 66.135974775), (69.30378365, 65.907020992), (69.425935636, 65.745864038), (69.487179487, 65.665064103)],
                knots=[0, 0, 0, 0, 1.096760587, 2.17092713, 3.219439832, 4.250915756, 5.268269357, 6.278326846, 7.281116186, 8.274029601, 9.260640565, 10.235837813, 11.203064059, 12.156899882, 13.114053108, 14.069676657, 15.032185724, 16, 16, 16, 16], degree=3))
        make_face()
    extrude(amount=-CUT_EXTRUDE1_DEPTH, mode=Mode.SUBTRACT)


solid = part.part
